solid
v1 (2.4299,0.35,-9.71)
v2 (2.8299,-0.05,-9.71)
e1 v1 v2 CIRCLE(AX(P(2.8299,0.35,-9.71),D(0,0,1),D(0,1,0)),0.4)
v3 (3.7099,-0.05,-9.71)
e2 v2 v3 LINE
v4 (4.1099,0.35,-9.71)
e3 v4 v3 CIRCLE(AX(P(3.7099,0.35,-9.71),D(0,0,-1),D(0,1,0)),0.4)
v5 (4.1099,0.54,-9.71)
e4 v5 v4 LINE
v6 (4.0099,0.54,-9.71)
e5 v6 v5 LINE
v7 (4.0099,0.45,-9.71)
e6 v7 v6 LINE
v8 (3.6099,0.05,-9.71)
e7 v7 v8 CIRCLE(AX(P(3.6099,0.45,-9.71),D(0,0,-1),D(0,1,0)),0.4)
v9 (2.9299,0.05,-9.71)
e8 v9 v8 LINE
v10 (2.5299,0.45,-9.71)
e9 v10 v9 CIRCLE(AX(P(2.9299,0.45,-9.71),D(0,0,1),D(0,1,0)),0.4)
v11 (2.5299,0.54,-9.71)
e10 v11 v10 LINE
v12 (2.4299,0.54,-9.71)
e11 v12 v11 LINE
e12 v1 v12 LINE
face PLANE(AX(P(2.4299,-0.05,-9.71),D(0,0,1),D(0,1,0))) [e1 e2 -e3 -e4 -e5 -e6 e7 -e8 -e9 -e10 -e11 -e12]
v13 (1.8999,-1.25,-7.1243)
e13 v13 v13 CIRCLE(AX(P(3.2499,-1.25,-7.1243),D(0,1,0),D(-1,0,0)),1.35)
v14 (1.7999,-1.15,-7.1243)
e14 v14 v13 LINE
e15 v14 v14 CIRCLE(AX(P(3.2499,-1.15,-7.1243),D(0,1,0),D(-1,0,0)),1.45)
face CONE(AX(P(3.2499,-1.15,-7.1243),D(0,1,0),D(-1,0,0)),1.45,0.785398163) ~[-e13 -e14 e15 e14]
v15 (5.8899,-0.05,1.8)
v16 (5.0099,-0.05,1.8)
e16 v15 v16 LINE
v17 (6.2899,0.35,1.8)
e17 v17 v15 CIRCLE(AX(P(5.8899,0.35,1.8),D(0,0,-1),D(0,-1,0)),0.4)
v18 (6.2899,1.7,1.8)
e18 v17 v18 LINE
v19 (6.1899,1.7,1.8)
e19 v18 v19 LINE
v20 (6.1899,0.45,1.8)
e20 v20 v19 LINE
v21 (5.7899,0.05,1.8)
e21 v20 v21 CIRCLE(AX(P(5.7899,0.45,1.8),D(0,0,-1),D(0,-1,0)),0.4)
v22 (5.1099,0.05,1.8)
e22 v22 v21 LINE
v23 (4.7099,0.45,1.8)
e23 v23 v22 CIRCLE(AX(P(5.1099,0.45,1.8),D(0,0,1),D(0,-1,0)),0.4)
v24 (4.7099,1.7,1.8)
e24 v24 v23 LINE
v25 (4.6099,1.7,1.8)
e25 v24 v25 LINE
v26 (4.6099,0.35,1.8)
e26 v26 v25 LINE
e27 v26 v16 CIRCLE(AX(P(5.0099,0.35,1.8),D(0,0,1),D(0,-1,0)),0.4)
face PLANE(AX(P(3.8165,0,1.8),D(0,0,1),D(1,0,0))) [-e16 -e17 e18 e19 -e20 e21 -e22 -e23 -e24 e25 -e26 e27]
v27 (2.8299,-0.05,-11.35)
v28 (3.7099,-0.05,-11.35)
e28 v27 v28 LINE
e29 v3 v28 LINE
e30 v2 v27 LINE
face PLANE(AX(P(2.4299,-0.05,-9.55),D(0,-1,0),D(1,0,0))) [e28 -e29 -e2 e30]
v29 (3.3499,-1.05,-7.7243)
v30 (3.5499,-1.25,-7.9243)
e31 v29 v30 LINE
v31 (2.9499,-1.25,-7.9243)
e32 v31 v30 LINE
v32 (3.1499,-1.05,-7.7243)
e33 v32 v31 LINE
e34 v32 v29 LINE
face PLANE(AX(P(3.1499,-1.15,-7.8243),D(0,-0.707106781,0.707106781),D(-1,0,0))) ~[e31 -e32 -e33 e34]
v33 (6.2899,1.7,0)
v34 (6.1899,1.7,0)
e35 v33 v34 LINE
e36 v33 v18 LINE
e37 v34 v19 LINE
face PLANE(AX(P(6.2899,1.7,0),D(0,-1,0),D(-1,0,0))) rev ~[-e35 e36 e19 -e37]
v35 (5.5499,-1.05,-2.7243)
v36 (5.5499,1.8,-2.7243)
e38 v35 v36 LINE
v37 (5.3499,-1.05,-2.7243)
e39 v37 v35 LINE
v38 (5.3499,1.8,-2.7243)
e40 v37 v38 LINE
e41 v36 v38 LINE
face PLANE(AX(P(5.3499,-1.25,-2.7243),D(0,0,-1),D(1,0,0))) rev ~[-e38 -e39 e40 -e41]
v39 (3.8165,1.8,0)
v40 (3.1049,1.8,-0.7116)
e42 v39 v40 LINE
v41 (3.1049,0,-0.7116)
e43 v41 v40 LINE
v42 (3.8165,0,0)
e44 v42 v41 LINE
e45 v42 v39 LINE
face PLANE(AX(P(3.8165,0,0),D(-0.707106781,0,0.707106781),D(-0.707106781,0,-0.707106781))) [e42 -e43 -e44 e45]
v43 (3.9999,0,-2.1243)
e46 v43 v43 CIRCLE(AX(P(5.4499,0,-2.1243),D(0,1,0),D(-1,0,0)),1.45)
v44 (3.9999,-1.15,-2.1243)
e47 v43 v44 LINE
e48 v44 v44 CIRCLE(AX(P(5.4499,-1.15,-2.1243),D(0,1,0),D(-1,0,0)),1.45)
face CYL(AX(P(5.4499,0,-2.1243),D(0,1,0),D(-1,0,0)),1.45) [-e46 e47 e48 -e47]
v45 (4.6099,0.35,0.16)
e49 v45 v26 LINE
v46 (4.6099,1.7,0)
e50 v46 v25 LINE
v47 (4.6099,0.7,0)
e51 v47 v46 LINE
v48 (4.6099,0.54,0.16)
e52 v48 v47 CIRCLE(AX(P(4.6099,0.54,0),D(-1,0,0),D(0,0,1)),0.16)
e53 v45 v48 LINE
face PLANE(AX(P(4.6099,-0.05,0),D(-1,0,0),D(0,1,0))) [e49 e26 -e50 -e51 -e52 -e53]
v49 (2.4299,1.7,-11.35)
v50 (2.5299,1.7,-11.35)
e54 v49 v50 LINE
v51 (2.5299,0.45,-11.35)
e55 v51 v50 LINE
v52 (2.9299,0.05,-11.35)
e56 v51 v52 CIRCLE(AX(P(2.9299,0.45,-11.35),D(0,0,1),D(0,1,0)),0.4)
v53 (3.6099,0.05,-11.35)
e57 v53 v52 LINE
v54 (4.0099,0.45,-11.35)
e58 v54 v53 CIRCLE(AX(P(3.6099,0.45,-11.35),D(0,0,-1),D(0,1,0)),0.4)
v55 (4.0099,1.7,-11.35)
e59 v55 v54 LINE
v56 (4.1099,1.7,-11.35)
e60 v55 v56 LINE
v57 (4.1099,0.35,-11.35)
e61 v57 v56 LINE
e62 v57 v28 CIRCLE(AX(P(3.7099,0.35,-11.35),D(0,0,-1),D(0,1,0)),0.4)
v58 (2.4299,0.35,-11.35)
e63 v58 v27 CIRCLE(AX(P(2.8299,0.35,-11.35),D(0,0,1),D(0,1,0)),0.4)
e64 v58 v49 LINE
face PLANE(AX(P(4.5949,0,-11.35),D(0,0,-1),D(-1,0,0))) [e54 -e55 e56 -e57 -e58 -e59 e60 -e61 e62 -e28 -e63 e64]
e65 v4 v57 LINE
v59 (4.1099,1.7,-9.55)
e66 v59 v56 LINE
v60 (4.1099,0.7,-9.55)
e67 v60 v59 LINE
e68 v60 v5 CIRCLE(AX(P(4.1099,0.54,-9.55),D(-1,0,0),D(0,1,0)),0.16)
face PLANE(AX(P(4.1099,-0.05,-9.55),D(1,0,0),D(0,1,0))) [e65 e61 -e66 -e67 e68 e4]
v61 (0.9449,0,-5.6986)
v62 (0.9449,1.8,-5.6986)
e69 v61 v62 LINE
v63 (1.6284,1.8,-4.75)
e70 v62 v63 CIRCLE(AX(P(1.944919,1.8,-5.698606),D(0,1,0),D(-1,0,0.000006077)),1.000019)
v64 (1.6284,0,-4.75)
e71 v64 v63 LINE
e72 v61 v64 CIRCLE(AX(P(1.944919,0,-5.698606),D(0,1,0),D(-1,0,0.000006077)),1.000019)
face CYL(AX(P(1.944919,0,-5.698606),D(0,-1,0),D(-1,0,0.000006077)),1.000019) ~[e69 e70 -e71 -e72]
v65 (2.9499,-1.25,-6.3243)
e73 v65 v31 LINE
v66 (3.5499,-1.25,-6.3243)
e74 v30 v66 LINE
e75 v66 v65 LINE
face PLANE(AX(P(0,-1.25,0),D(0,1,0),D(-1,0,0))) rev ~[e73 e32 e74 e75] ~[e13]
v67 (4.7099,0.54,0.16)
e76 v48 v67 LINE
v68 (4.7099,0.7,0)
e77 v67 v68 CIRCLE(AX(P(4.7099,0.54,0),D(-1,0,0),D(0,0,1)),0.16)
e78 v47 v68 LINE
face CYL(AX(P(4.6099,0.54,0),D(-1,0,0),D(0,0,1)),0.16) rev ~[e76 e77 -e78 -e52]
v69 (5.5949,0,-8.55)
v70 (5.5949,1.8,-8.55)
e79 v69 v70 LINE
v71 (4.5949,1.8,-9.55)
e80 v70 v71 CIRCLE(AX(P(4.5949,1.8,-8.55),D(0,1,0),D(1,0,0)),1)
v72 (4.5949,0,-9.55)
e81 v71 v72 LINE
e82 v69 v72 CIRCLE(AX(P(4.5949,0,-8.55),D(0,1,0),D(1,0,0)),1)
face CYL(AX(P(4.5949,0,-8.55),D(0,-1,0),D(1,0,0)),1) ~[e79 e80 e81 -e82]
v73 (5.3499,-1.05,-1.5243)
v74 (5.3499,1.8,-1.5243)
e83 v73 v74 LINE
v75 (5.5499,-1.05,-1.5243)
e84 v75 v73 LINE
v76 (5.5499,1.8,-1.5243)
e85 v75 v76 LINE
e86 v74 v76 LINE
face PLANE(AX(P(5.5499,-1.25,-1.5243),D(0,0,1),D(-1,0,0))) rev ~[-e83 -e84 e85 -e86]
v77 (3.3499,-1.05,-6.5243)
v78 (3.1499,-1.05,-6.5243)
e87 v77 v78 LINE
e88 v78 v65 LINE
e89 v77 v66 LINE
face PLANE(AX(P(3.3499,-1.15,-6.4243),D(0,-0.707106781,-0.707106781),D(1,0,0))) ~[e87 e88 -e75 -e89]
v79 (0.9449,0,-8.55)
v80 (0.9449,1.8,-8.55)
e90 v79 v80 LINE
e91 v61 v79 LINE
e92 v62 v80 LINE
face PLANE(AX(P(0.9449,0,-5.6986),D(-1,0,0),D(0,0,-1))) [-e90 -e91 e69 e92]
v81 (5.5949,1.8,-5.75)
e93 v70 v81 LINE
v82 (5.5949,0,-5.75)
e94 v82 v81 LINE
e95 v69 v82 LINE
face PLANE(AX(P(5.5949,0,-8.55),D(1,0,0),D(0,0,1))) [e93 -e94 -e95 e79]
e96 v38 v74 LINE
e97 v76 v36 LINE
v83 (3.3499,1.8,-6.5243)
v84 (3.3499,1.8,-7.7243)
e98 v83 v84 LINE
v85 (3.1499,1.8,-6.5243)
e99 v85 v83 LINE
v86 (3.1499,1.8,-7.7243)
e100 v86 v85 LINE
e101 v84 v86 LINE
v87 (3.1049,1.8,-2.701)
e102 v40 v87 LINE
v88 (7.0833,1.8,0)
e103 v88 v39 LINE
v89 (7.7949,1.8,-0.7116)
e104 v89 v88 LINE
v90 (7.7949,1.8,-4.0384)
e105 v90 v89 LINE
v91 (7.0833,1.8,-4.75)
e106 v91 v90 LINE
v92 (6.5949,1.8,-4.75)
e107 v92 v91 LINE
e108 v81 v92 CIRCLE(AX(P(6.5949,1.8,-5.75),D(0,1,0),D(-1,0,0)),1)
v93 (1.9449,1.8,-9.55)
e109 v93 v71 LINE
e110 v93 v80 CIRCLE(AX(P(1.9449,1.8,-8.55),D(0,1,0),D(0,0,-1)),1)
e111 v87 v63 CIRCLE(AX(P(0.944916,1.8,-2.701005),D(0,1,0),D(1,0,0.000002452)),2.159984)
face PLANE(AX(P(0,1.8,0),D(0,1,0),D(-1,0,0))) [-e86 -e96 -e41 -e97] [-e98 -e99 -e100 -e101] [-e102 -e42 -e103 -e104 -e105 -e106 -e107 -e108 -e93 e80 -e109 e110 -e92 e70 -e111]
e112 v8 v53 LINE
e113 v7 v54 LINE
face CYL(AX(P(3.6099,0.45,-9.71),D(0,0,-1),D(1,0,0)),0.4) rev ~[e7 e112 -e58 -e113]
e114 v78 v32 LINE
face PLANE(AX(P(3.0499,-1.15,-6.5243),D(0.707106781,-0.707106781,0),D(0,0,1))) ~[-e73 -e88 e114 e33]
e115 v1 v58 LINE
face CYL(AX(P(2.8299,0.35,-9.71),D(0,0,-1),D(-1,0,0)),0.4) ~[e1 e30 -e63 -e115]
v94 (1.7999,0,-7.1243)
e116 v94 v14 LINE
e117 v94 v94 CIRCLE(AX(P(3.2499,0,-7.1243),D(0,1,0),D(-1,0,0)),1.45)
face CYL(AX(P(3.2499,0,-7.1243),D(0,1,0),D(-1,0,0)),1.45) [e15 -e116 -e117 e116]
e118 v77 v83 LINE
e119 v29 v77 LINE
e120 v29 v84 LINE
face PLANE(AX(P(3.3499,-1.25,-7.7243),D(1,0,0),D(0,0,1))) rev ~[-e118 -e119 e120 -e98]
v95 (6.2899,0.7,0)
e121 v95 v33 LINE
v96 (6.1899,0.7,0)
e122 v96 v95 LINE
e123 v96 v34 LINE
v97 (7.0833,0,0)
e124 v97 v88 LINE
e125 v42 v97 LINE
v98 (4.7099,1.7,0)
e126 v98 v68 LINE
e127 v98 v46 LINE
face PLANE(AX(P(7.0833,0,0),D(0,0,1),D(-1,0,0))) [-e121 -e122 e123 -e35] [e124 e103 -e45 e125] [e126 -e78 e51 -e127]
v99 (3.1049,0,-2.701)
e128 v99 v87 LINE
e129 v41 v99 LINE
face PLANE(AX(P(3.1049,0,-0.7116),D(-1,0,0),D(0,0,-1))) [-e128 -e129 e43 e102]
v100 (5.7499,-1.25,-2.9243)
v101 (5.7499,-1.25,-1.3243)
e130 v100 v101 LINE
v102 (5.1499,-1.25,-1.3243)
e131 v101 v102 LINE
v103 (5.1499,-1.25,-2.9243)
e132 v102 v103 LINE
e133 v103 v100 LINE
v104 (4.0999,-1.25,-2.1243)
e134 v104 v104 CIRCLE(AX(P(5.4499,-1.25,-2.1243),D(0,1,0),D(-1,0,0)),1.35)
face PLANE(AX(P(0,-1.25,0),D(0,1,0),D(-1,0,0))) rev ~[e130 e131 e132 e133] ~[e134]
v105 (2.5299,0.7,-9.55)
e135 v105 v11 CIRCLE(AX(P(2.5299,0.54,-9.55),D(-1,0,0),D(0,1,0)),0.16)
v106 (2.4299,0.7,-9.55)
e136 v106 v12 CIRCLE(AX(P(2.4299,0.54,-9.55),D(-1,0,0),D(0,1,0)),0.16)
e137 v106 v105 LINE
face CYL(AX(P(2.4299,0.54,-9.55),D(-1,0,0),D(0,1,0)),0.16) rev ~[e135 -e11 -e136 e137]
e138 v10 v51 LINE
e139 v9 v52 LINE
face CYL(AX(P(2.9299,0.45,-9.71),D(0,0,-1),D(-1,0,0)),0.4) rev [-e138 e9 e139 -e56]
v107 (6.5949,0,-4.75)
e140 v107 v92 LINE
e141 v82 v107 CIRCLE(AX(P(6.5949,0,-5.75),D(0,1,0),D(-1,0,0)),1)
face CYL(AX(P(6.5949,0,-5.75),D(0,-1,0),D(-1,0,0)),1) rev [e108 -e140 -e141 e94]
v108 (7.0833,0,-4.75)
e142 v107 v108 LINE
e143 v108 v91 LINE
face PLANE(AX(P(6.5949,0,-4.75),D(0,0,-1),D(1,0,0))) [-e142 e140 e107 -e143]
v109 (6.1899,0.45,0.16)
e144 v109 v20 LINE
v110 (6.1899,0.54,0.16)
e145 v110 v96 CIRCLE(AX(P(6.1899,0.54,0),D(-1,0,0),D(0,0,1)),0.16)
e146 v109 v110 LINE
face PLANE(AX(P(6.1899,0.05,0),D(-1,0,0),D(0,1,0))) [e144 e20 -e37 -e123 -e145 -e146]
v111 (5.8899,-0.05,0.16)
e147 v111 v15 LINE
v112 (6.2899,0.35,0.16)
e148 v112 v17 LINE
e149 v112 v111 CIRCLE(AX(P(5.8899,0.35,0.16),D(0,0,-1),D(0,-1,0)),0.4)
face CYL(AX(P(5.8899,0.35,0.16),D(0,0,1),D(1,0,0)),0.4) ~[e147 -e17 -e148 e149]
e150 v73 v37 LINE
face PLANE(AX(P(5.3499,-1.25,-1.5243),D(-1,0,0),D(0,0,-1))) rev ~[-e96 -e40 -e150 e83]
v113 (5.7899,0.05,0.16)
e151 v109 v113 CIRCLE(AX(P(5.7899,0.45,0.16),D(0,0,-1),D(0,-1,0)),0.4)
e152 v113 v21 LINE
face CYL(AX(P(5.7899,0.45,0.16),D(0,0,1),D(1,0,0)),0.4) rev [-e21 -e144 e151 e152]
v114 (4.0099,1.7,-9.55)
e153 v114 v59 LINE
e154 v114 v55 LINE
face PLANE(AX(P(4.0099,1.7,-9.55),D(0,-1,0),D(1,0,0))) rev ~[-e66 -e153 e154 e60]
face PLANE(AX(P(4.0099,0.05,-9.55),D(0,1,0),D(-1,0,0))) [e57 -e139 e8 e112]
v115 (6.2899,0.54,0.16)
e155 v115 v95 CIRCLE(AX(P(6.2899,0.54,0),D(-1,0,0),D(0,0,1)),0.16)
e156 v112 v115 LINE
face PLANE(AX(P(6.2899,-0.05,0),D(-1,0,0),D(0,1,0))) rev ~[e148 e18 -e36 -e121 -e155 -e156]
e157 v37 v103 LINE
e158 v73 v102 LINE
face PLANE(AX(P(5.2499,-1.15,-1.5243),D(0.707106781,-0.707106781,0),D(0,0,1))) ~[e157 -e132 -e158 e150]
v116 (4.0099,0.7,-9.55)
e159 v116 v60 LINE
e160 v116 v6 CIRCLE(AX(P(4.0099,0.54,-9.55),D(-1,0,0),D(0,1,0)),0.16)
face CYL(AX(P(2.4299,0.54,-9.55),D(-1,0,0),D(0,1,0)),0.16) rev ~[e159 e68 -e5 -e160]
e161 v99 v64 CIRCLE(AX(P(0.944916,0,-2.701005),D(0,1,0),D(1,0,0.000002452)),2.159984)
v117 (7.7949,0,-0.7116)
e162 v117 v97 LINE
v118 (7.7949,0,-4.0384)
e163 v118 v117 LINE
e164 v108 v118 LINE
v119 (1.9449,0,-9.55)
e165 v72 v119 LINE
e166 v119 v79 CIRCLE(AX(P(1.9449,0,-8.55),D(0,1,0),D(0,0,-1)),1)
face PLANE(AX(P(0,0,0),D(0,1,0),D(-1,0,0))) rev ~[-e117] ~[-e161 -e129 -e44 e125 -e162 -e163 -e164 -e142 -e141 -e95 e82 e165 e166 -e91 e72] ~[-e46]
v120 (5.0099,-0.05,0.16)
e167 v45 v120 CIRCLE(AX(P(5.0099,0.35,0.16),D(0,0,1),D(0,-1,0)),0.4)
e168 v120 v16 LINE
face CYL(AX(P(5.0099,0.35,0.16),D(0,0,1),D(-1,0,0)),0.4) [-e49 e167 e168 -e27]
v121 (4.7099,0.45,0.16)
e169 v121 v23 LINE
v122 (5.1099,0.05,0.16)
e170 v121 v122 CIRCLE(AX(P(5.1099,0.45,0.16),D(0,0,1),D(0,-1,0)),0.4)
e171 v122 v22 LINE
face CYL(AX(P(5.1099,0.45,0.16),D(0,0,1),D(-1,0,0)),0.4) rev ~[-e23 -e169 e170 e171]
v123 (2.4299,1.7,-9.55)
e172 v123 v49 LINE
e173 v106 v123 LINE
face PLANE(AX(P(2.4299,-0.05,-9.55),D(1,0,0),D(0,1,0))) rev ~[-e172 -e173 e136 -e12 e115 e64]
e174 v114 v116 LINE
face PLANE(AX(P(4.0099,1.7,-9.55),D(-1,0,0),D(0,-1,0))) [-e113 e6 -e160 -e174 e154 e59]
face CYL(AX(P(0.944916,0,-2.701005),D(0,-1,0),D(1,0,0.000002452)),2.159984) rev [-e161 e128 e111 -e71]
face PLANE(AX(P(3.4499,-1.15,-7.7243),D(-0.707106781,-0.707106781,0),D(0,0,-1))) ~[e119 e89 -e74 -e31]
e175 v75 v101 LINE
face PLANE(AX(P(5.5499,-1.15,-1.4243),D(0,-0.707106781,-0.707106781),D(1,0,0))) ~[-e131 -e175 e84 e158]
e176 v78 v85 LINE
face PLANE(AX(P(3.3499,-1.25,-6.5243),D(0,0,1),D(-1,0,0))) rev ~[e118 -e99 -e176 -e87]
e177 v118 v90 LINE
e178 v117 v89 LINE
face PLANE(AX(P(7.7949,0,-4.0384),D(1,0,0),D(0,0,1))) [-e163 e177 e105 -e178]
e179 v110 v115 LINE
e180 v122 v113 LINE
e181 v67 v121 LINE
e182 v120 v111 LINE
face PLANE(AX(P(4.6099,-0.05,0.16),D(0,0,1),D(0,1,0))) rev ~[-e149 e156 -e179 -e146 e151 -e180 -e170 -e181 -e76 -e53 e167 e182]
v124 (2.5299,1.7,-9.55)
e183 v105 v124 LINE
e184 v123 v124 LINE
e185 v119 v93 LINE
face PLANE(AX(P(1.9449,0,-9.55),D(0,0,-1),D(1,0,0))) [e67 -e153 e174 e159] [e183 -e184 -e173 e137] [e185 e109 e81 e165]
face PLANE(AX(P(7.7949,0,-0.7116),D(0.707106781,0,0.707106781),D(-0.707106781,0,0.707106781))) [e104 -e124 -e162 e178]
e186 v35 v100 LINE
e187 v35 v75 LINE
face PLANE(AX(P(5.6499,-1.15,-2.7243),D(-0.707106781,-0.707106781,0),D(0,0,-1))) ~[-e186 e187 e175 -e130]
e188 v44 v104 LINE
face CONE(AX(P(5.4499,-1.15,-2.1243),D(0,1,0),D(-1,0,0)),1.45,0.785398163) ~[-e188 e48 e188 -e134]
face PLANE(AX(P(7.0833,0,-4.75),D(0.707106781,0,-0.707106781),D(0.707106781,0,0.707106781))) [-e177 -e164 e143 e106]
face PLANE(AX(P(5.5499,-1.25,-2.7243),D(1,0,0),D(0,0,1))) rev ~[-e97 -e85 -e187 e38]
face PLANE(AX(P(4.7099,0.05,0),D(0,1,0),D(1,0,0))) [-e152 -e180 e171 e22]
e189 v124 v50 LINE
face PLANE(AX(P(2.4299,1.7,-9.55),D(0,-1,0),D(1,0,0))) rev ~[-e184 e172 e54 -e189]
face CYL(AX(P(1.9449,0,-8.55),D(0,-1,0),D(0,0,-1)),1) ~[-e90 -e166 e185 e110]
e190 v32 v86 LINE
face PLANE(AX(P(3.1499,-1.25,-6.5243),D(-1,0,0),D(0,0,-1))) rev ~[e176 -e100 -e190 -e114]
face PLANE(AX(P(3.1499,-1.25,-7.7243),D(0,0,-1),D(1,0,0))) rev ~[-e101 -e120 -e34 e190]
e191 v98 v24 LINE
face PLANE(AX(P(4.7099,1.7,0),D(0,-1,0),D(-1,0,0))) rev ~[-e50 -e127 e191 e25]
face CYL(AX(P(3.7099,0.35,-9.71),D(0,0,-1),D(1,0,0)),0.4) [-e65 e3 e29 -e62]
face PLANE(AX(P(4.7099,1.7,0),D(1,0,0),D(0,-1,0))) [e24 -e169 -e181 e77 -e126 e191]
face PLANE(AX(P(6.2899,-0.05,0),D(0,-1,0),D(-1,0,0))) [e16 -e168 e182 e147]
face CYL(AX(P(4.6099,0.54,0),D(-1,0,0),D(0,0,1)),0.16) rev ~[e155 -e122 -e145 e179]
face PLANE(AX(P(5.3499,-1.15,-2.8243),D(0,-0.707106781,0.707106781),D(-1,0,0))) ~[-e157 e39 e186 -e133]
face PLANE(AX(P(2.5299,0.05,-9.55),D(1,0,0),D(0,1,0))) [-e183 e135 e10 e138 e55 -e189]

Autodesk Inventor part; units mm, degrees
ref_plane "YZ Plane" through (0, 0, 0) normal (1, 0, 0) x (0, 1, 0)
ref_plane "XZ Plane" through (0, 0, 0) normal (0, 1, 0) x (-1, 0, 0)
ref_plane "XY Plane" through (0, 0, 0) normal (0, 0, 1) x (1, 0, 0)
sketch "Sketch1" plane through (0, 0, 0) normal (0, 1, 0) x (-1, 0, 0)
  line L0 (0, 0) -> (-3.8165, 0)
  line L1 (-3.8165, 0) -> (-3.1049, -0.7116)
  line L2 (-3.1049, -0.7116) -> (-3.1049, -2.701)
  arc A0 (-3.1049, -2.701) -> (-1.6284, -4.75) centre (-0.9449, -2.701) ccw
  line L3 (-0.9449, -5.6986) -> (-0.9449, -8.55)
  line L4 (-1.9449, -9.55) -> (-4.5949, -9.55)
  line L5 (-5.5949, -8.55) -> (-5.5949, -5.75)
  line L6 (-6.5949, -4.75) -> (-7.0833, -4.75)
  line L7 (-7.0833, -4.75) -> (-7.7949, -4.0384)
  line L8 (-7.7949, -4.0384) -> (-7.7949, -0.7116)
  line L9 (-7.7949, -0.7116) -> (-7.0833, 0)
  line L10 (-7.0833, 0) -> (-3.8165, 0)
  circle A1 centre (-5.4499, -2.1243) radius 1.45
  circle A2 centre (-3.2499, -7.1243) radius 1.45
  arc A3 (-0.9449, -5.6986) -> (-1.6284, -4.75) centre (-1.9449, -5.6986) ccw
  arc A4 (-5.5949, -5.75) -> (-6.5949, -4.75) centre (-6.5949, -5.75) ccw
  arc A5 (-1.9449, -9.55) -> (-0.9449, -8.55) centre (-1.9449, -8.55) ccw
  arc A6 (-5.5949, -8.55) -> (-4.5949, -9.55) centre (-4.5949, -8.55) ccw
  point P0 (-0.9449, -4.861)
  point P1 (-5.5949, -7.15)
  point P2 (-5.4499, 0)
  point P3 (-6.8391, -4.75)
  point P4 (-0.9449, -7.1243)
  dimension "d0" = 5
  dimension "d1" = 2.2
  dimension "d2" = 2.9
  dimension "d3" = 4.75
  dimension "d4" = 4.65
  dimension "d6" = 4.69
  dimension "d8" = 6.85
  dimension "d9" = 9.55
  dimension "d10" = 135
  dimension "d11" = 135
  dimension "d12" = 135
  dimension "d13" = 1
  dimension "d14" = 1
extrude "Extrusion1" add sketch "Sketch1" along normal blind 1.8 contours L1 L2 A0 A3 L3 A5 L4 A6 L5 A4 L6 L7 L8 L9 L10 | A1 | A2
extrude "Extrusion2" add sketch "Sketch1" against normal blind 1.25 contours A1 | A2
chamfer "Chamfer1" distance 0.1 angle 45 2 edges at (6.8999, -1.25, -2.1243) (4.6999, -1.25, -7.1243)
sketch "Sketch2" plane through (3.8165, 0, 0) normal (0, 0, 1) x (1, 0, 0)
  line L0 (1.7784, 1.8) -> (2.7784, 1.8) projected
  line L1 (2.4734, -0.05) -> (0.7934, -0.05)
  line L2 (0.7784, 0) -> (0.7784, 1.8) projected
  line L3 (3.2668, 0) -> (3.2668, 1.8) projected
  line L4 (0, 0) -> (0, 1.8) projected
  line L5 (0, 1.8) -> (3.2668, 1.8) projected
  line L6 (2.4734, -0.05) -> (2.4734, 1.7)
  line L7 (0.7934, -0.05) -> (0.7934, 1.7)
  line L8 (0.8934, 1.7) -> (0.8934, 0.05)
  line L9 (0.8934, 0.05) -> (2.3734, 0.05)
  line L10 (2.3734, 0.05) -> (2.3734, 1.7)
  line L11 (2.4734, 1.7) -> (2.3734, 1.7)
  line L12 (0.8934, 1.7) -> (0.7934, 1.7)
  point P0 (-3.8165, 0)
  dimension "d24" = 1.68
  dimension "d26" = 1.85
  dimension "d27" = 0.1
  dimension "d28" = 0.7934
  dimension "d29" = 0.7934
  dimension "d30" = 0.1
  dimension "d31" = 0.1
extrude "Extrusion3" add sketch "Sketch2" along normal blind 1.8
sketch "Sketch3" plane through (4.6099, 0, 0) normal (-1, 0, 0) x (0, 0, 1)
  line L0 (0, -0.05) -> (1.8, -0.05) projected
  line L1 (0.16, -0.05) -> (0.16, 0.54)
  line L2 (0, 0) -> (0, 1.7) projected
  arc A0 (0.16, 0.54) -> (0, 0.7) centre (0, 0.54) ccw
  line L3 (0, 0) -> (0, 1.8) projected
  line L4 (0, 0) -> (0, 1.7) projected
  line L5 (0, 0) -> (0, -0.05) projected
  line L6 (0, -0.05) -> (1.8, -0.05) projected
  line L7 (1.8, 1.7) -> (1.8, -0.05) projected
  line L8 (0, 1.7) -> (1.8, 1.7) projected
  point P0 (0, 0)
  dimension "d34" = 0.16
  dimension "d54" = 0.75
extrude "Extrusion4" cut sketch "Sketch3" against normal through all contours L5 L2 A0 L1 L0
sketch "Sketch4" plane through (4.5949, 0, -9.55) normal (0, 0, -1) x (-1, 0, 0)
  line L0 (2.165, -0.05) -> (0.485, -0.05)
  line L1 (2.165, -0.05) -> (2.165, 1.7)
  line L2 (0.485, -0.05) -> (0.485, 1.7)
  line L3 (0.585, 1.7) -> (0.585, 0.05)
  line L4 (0.585, 0.05) -> (2.065, 0.05)
  line L5 (2.065, 0.05) -> (2.065, 1.7)
  line L6 (2.165, 1.7) -> (2.065, 1.7)
  line L7 (0.585, 1.7) -> (0.485, 1.7)
  line L8 (2.65, 0) -> (2.65, 1.8) projected
  line L9 (0, 1.8) -> (2.65, 1.8) projected
  line L10 (0, 0) -> (0, 1.8) projected
  point P0 (4.5949, 0)
  dimension "d37" = 1.68
  dimension "d42" = 0.1
  dimension "d43" = 0.1
  dimension "d44" = 0.485
  dimension "d45" = 0.485
  dimension "d46" = 1.85
  dimension "d47" = 0.1
extrude "Extrusion5" add sketch "Sketch4" along normal blind 1.8
sketch "Sketch5" plane through (2.4299, 0, -9.55) normal (-1, 0, 0) x (0, 0, 1)
  line L0 (0, -0.05) -> (0, 0) projected
  line L1 (0, 1.7) -> (0, 0) projected
  line L2 (0, 1.7) -> (-1.8, 1.7) projected
  line L3 (-1.8, -0.05) -> (-1.8, 1.7) projected
  line L4 (0, -0.05) -> (-1.8, -0.05) projected
  line L5 (-0.16, -0.05) -> (-0.16, 0.54)
  arc A0 (0, 0.7) -> (-0.16, 0.54) centre (0, 0.54) ccw
  point P0 (9.55, 0)
  point P1 (-1.867, -0.613)
  point P2 (-1.867, -0.6608)
  point P3 (0, -0.025)
  dimension "d51" = 0.16
  dimension "d55" = 0.75
extrude "Extrusion6" cut sketch "Sketch5" against normal through all contours L4 L5 A0 L1 L0
sketch "Sketch6" plane through (5.4499, -1.25, -2.1243) normal (0, -1, 0) x (1, 0, 0)
  line L0 (0.1, 0.6) -> (-0.1, 0.6)
  line L1 (-0.1, 0.6) -> (-0.1, -0.6)
  line L2 (-0.1, -0.6) -> (0.1, -0.6)
  line L3 (0.1, -0.6) -> (0.1, 0.6)
  line L4 (-2.1, -4.4) -> (-2.3, -4.4)
  line L5 (-2.3, -4.4) -> (-2.3, -5.6)
  line L6 (-2.3, -5.6) -> (-2.1, -5.6)
  line L7 (-2.1, -5.6) -> (-2.1, -4.4)
  circle A0 centre (0, 0) radius 1.35 projected
  circle A1 centre (-2.2, -5) radius 1.35 projected
  point P0 (-5.4499, 2.1243)
  point P1 (0.1, 0)
  point P2 (0, 0.6)
  point P3 (-2.1, -5)
  point P4 (-2.2, -4.4)
  dimension "d56" = 1.2
  dimension "d57" = 0.2
  dimension "d58" = 1.2
  dimension "d59" = 0.2
extrude "Extrusion7" cut sketch "Sketch6" against normal through all contours L3 L2 L1 L0 | L7 L6 L5 L4
chamfer "Chamfer2" distance 0.2 angle 45 8 edges at (5.5499, -1.25, -2.1243) (5.4499, -1.25, -1.5243) (5.3499, -1.25, -2.1243) (5.4499, -1.25, -2.7243) (3.3499, -1.25, -7.1243) (3.2499, -1.25, -6.5243) (3.1499, -1.25, -7.1243) (3.2499, -1.25, -7.7243)
fillet "Fillet1" radius 0.4 8 edges at (4.6099, -0.05, 0.98) (6.2899, -0.05, 0.98) (6.1899, 0.05, 0.98) (4.7099, 0.05, 0.98) (2.4299, -0.05, -10.53) (4.1099, -0.05, -10.53) (4.0099, 0.05, -10.53) (2.5299, 0.05, -10.53)
equation "\"d11\" = d10"
equation "\"d29\" = d28"
properties part number "Kailh Choc Hotswap Socket Negative"
